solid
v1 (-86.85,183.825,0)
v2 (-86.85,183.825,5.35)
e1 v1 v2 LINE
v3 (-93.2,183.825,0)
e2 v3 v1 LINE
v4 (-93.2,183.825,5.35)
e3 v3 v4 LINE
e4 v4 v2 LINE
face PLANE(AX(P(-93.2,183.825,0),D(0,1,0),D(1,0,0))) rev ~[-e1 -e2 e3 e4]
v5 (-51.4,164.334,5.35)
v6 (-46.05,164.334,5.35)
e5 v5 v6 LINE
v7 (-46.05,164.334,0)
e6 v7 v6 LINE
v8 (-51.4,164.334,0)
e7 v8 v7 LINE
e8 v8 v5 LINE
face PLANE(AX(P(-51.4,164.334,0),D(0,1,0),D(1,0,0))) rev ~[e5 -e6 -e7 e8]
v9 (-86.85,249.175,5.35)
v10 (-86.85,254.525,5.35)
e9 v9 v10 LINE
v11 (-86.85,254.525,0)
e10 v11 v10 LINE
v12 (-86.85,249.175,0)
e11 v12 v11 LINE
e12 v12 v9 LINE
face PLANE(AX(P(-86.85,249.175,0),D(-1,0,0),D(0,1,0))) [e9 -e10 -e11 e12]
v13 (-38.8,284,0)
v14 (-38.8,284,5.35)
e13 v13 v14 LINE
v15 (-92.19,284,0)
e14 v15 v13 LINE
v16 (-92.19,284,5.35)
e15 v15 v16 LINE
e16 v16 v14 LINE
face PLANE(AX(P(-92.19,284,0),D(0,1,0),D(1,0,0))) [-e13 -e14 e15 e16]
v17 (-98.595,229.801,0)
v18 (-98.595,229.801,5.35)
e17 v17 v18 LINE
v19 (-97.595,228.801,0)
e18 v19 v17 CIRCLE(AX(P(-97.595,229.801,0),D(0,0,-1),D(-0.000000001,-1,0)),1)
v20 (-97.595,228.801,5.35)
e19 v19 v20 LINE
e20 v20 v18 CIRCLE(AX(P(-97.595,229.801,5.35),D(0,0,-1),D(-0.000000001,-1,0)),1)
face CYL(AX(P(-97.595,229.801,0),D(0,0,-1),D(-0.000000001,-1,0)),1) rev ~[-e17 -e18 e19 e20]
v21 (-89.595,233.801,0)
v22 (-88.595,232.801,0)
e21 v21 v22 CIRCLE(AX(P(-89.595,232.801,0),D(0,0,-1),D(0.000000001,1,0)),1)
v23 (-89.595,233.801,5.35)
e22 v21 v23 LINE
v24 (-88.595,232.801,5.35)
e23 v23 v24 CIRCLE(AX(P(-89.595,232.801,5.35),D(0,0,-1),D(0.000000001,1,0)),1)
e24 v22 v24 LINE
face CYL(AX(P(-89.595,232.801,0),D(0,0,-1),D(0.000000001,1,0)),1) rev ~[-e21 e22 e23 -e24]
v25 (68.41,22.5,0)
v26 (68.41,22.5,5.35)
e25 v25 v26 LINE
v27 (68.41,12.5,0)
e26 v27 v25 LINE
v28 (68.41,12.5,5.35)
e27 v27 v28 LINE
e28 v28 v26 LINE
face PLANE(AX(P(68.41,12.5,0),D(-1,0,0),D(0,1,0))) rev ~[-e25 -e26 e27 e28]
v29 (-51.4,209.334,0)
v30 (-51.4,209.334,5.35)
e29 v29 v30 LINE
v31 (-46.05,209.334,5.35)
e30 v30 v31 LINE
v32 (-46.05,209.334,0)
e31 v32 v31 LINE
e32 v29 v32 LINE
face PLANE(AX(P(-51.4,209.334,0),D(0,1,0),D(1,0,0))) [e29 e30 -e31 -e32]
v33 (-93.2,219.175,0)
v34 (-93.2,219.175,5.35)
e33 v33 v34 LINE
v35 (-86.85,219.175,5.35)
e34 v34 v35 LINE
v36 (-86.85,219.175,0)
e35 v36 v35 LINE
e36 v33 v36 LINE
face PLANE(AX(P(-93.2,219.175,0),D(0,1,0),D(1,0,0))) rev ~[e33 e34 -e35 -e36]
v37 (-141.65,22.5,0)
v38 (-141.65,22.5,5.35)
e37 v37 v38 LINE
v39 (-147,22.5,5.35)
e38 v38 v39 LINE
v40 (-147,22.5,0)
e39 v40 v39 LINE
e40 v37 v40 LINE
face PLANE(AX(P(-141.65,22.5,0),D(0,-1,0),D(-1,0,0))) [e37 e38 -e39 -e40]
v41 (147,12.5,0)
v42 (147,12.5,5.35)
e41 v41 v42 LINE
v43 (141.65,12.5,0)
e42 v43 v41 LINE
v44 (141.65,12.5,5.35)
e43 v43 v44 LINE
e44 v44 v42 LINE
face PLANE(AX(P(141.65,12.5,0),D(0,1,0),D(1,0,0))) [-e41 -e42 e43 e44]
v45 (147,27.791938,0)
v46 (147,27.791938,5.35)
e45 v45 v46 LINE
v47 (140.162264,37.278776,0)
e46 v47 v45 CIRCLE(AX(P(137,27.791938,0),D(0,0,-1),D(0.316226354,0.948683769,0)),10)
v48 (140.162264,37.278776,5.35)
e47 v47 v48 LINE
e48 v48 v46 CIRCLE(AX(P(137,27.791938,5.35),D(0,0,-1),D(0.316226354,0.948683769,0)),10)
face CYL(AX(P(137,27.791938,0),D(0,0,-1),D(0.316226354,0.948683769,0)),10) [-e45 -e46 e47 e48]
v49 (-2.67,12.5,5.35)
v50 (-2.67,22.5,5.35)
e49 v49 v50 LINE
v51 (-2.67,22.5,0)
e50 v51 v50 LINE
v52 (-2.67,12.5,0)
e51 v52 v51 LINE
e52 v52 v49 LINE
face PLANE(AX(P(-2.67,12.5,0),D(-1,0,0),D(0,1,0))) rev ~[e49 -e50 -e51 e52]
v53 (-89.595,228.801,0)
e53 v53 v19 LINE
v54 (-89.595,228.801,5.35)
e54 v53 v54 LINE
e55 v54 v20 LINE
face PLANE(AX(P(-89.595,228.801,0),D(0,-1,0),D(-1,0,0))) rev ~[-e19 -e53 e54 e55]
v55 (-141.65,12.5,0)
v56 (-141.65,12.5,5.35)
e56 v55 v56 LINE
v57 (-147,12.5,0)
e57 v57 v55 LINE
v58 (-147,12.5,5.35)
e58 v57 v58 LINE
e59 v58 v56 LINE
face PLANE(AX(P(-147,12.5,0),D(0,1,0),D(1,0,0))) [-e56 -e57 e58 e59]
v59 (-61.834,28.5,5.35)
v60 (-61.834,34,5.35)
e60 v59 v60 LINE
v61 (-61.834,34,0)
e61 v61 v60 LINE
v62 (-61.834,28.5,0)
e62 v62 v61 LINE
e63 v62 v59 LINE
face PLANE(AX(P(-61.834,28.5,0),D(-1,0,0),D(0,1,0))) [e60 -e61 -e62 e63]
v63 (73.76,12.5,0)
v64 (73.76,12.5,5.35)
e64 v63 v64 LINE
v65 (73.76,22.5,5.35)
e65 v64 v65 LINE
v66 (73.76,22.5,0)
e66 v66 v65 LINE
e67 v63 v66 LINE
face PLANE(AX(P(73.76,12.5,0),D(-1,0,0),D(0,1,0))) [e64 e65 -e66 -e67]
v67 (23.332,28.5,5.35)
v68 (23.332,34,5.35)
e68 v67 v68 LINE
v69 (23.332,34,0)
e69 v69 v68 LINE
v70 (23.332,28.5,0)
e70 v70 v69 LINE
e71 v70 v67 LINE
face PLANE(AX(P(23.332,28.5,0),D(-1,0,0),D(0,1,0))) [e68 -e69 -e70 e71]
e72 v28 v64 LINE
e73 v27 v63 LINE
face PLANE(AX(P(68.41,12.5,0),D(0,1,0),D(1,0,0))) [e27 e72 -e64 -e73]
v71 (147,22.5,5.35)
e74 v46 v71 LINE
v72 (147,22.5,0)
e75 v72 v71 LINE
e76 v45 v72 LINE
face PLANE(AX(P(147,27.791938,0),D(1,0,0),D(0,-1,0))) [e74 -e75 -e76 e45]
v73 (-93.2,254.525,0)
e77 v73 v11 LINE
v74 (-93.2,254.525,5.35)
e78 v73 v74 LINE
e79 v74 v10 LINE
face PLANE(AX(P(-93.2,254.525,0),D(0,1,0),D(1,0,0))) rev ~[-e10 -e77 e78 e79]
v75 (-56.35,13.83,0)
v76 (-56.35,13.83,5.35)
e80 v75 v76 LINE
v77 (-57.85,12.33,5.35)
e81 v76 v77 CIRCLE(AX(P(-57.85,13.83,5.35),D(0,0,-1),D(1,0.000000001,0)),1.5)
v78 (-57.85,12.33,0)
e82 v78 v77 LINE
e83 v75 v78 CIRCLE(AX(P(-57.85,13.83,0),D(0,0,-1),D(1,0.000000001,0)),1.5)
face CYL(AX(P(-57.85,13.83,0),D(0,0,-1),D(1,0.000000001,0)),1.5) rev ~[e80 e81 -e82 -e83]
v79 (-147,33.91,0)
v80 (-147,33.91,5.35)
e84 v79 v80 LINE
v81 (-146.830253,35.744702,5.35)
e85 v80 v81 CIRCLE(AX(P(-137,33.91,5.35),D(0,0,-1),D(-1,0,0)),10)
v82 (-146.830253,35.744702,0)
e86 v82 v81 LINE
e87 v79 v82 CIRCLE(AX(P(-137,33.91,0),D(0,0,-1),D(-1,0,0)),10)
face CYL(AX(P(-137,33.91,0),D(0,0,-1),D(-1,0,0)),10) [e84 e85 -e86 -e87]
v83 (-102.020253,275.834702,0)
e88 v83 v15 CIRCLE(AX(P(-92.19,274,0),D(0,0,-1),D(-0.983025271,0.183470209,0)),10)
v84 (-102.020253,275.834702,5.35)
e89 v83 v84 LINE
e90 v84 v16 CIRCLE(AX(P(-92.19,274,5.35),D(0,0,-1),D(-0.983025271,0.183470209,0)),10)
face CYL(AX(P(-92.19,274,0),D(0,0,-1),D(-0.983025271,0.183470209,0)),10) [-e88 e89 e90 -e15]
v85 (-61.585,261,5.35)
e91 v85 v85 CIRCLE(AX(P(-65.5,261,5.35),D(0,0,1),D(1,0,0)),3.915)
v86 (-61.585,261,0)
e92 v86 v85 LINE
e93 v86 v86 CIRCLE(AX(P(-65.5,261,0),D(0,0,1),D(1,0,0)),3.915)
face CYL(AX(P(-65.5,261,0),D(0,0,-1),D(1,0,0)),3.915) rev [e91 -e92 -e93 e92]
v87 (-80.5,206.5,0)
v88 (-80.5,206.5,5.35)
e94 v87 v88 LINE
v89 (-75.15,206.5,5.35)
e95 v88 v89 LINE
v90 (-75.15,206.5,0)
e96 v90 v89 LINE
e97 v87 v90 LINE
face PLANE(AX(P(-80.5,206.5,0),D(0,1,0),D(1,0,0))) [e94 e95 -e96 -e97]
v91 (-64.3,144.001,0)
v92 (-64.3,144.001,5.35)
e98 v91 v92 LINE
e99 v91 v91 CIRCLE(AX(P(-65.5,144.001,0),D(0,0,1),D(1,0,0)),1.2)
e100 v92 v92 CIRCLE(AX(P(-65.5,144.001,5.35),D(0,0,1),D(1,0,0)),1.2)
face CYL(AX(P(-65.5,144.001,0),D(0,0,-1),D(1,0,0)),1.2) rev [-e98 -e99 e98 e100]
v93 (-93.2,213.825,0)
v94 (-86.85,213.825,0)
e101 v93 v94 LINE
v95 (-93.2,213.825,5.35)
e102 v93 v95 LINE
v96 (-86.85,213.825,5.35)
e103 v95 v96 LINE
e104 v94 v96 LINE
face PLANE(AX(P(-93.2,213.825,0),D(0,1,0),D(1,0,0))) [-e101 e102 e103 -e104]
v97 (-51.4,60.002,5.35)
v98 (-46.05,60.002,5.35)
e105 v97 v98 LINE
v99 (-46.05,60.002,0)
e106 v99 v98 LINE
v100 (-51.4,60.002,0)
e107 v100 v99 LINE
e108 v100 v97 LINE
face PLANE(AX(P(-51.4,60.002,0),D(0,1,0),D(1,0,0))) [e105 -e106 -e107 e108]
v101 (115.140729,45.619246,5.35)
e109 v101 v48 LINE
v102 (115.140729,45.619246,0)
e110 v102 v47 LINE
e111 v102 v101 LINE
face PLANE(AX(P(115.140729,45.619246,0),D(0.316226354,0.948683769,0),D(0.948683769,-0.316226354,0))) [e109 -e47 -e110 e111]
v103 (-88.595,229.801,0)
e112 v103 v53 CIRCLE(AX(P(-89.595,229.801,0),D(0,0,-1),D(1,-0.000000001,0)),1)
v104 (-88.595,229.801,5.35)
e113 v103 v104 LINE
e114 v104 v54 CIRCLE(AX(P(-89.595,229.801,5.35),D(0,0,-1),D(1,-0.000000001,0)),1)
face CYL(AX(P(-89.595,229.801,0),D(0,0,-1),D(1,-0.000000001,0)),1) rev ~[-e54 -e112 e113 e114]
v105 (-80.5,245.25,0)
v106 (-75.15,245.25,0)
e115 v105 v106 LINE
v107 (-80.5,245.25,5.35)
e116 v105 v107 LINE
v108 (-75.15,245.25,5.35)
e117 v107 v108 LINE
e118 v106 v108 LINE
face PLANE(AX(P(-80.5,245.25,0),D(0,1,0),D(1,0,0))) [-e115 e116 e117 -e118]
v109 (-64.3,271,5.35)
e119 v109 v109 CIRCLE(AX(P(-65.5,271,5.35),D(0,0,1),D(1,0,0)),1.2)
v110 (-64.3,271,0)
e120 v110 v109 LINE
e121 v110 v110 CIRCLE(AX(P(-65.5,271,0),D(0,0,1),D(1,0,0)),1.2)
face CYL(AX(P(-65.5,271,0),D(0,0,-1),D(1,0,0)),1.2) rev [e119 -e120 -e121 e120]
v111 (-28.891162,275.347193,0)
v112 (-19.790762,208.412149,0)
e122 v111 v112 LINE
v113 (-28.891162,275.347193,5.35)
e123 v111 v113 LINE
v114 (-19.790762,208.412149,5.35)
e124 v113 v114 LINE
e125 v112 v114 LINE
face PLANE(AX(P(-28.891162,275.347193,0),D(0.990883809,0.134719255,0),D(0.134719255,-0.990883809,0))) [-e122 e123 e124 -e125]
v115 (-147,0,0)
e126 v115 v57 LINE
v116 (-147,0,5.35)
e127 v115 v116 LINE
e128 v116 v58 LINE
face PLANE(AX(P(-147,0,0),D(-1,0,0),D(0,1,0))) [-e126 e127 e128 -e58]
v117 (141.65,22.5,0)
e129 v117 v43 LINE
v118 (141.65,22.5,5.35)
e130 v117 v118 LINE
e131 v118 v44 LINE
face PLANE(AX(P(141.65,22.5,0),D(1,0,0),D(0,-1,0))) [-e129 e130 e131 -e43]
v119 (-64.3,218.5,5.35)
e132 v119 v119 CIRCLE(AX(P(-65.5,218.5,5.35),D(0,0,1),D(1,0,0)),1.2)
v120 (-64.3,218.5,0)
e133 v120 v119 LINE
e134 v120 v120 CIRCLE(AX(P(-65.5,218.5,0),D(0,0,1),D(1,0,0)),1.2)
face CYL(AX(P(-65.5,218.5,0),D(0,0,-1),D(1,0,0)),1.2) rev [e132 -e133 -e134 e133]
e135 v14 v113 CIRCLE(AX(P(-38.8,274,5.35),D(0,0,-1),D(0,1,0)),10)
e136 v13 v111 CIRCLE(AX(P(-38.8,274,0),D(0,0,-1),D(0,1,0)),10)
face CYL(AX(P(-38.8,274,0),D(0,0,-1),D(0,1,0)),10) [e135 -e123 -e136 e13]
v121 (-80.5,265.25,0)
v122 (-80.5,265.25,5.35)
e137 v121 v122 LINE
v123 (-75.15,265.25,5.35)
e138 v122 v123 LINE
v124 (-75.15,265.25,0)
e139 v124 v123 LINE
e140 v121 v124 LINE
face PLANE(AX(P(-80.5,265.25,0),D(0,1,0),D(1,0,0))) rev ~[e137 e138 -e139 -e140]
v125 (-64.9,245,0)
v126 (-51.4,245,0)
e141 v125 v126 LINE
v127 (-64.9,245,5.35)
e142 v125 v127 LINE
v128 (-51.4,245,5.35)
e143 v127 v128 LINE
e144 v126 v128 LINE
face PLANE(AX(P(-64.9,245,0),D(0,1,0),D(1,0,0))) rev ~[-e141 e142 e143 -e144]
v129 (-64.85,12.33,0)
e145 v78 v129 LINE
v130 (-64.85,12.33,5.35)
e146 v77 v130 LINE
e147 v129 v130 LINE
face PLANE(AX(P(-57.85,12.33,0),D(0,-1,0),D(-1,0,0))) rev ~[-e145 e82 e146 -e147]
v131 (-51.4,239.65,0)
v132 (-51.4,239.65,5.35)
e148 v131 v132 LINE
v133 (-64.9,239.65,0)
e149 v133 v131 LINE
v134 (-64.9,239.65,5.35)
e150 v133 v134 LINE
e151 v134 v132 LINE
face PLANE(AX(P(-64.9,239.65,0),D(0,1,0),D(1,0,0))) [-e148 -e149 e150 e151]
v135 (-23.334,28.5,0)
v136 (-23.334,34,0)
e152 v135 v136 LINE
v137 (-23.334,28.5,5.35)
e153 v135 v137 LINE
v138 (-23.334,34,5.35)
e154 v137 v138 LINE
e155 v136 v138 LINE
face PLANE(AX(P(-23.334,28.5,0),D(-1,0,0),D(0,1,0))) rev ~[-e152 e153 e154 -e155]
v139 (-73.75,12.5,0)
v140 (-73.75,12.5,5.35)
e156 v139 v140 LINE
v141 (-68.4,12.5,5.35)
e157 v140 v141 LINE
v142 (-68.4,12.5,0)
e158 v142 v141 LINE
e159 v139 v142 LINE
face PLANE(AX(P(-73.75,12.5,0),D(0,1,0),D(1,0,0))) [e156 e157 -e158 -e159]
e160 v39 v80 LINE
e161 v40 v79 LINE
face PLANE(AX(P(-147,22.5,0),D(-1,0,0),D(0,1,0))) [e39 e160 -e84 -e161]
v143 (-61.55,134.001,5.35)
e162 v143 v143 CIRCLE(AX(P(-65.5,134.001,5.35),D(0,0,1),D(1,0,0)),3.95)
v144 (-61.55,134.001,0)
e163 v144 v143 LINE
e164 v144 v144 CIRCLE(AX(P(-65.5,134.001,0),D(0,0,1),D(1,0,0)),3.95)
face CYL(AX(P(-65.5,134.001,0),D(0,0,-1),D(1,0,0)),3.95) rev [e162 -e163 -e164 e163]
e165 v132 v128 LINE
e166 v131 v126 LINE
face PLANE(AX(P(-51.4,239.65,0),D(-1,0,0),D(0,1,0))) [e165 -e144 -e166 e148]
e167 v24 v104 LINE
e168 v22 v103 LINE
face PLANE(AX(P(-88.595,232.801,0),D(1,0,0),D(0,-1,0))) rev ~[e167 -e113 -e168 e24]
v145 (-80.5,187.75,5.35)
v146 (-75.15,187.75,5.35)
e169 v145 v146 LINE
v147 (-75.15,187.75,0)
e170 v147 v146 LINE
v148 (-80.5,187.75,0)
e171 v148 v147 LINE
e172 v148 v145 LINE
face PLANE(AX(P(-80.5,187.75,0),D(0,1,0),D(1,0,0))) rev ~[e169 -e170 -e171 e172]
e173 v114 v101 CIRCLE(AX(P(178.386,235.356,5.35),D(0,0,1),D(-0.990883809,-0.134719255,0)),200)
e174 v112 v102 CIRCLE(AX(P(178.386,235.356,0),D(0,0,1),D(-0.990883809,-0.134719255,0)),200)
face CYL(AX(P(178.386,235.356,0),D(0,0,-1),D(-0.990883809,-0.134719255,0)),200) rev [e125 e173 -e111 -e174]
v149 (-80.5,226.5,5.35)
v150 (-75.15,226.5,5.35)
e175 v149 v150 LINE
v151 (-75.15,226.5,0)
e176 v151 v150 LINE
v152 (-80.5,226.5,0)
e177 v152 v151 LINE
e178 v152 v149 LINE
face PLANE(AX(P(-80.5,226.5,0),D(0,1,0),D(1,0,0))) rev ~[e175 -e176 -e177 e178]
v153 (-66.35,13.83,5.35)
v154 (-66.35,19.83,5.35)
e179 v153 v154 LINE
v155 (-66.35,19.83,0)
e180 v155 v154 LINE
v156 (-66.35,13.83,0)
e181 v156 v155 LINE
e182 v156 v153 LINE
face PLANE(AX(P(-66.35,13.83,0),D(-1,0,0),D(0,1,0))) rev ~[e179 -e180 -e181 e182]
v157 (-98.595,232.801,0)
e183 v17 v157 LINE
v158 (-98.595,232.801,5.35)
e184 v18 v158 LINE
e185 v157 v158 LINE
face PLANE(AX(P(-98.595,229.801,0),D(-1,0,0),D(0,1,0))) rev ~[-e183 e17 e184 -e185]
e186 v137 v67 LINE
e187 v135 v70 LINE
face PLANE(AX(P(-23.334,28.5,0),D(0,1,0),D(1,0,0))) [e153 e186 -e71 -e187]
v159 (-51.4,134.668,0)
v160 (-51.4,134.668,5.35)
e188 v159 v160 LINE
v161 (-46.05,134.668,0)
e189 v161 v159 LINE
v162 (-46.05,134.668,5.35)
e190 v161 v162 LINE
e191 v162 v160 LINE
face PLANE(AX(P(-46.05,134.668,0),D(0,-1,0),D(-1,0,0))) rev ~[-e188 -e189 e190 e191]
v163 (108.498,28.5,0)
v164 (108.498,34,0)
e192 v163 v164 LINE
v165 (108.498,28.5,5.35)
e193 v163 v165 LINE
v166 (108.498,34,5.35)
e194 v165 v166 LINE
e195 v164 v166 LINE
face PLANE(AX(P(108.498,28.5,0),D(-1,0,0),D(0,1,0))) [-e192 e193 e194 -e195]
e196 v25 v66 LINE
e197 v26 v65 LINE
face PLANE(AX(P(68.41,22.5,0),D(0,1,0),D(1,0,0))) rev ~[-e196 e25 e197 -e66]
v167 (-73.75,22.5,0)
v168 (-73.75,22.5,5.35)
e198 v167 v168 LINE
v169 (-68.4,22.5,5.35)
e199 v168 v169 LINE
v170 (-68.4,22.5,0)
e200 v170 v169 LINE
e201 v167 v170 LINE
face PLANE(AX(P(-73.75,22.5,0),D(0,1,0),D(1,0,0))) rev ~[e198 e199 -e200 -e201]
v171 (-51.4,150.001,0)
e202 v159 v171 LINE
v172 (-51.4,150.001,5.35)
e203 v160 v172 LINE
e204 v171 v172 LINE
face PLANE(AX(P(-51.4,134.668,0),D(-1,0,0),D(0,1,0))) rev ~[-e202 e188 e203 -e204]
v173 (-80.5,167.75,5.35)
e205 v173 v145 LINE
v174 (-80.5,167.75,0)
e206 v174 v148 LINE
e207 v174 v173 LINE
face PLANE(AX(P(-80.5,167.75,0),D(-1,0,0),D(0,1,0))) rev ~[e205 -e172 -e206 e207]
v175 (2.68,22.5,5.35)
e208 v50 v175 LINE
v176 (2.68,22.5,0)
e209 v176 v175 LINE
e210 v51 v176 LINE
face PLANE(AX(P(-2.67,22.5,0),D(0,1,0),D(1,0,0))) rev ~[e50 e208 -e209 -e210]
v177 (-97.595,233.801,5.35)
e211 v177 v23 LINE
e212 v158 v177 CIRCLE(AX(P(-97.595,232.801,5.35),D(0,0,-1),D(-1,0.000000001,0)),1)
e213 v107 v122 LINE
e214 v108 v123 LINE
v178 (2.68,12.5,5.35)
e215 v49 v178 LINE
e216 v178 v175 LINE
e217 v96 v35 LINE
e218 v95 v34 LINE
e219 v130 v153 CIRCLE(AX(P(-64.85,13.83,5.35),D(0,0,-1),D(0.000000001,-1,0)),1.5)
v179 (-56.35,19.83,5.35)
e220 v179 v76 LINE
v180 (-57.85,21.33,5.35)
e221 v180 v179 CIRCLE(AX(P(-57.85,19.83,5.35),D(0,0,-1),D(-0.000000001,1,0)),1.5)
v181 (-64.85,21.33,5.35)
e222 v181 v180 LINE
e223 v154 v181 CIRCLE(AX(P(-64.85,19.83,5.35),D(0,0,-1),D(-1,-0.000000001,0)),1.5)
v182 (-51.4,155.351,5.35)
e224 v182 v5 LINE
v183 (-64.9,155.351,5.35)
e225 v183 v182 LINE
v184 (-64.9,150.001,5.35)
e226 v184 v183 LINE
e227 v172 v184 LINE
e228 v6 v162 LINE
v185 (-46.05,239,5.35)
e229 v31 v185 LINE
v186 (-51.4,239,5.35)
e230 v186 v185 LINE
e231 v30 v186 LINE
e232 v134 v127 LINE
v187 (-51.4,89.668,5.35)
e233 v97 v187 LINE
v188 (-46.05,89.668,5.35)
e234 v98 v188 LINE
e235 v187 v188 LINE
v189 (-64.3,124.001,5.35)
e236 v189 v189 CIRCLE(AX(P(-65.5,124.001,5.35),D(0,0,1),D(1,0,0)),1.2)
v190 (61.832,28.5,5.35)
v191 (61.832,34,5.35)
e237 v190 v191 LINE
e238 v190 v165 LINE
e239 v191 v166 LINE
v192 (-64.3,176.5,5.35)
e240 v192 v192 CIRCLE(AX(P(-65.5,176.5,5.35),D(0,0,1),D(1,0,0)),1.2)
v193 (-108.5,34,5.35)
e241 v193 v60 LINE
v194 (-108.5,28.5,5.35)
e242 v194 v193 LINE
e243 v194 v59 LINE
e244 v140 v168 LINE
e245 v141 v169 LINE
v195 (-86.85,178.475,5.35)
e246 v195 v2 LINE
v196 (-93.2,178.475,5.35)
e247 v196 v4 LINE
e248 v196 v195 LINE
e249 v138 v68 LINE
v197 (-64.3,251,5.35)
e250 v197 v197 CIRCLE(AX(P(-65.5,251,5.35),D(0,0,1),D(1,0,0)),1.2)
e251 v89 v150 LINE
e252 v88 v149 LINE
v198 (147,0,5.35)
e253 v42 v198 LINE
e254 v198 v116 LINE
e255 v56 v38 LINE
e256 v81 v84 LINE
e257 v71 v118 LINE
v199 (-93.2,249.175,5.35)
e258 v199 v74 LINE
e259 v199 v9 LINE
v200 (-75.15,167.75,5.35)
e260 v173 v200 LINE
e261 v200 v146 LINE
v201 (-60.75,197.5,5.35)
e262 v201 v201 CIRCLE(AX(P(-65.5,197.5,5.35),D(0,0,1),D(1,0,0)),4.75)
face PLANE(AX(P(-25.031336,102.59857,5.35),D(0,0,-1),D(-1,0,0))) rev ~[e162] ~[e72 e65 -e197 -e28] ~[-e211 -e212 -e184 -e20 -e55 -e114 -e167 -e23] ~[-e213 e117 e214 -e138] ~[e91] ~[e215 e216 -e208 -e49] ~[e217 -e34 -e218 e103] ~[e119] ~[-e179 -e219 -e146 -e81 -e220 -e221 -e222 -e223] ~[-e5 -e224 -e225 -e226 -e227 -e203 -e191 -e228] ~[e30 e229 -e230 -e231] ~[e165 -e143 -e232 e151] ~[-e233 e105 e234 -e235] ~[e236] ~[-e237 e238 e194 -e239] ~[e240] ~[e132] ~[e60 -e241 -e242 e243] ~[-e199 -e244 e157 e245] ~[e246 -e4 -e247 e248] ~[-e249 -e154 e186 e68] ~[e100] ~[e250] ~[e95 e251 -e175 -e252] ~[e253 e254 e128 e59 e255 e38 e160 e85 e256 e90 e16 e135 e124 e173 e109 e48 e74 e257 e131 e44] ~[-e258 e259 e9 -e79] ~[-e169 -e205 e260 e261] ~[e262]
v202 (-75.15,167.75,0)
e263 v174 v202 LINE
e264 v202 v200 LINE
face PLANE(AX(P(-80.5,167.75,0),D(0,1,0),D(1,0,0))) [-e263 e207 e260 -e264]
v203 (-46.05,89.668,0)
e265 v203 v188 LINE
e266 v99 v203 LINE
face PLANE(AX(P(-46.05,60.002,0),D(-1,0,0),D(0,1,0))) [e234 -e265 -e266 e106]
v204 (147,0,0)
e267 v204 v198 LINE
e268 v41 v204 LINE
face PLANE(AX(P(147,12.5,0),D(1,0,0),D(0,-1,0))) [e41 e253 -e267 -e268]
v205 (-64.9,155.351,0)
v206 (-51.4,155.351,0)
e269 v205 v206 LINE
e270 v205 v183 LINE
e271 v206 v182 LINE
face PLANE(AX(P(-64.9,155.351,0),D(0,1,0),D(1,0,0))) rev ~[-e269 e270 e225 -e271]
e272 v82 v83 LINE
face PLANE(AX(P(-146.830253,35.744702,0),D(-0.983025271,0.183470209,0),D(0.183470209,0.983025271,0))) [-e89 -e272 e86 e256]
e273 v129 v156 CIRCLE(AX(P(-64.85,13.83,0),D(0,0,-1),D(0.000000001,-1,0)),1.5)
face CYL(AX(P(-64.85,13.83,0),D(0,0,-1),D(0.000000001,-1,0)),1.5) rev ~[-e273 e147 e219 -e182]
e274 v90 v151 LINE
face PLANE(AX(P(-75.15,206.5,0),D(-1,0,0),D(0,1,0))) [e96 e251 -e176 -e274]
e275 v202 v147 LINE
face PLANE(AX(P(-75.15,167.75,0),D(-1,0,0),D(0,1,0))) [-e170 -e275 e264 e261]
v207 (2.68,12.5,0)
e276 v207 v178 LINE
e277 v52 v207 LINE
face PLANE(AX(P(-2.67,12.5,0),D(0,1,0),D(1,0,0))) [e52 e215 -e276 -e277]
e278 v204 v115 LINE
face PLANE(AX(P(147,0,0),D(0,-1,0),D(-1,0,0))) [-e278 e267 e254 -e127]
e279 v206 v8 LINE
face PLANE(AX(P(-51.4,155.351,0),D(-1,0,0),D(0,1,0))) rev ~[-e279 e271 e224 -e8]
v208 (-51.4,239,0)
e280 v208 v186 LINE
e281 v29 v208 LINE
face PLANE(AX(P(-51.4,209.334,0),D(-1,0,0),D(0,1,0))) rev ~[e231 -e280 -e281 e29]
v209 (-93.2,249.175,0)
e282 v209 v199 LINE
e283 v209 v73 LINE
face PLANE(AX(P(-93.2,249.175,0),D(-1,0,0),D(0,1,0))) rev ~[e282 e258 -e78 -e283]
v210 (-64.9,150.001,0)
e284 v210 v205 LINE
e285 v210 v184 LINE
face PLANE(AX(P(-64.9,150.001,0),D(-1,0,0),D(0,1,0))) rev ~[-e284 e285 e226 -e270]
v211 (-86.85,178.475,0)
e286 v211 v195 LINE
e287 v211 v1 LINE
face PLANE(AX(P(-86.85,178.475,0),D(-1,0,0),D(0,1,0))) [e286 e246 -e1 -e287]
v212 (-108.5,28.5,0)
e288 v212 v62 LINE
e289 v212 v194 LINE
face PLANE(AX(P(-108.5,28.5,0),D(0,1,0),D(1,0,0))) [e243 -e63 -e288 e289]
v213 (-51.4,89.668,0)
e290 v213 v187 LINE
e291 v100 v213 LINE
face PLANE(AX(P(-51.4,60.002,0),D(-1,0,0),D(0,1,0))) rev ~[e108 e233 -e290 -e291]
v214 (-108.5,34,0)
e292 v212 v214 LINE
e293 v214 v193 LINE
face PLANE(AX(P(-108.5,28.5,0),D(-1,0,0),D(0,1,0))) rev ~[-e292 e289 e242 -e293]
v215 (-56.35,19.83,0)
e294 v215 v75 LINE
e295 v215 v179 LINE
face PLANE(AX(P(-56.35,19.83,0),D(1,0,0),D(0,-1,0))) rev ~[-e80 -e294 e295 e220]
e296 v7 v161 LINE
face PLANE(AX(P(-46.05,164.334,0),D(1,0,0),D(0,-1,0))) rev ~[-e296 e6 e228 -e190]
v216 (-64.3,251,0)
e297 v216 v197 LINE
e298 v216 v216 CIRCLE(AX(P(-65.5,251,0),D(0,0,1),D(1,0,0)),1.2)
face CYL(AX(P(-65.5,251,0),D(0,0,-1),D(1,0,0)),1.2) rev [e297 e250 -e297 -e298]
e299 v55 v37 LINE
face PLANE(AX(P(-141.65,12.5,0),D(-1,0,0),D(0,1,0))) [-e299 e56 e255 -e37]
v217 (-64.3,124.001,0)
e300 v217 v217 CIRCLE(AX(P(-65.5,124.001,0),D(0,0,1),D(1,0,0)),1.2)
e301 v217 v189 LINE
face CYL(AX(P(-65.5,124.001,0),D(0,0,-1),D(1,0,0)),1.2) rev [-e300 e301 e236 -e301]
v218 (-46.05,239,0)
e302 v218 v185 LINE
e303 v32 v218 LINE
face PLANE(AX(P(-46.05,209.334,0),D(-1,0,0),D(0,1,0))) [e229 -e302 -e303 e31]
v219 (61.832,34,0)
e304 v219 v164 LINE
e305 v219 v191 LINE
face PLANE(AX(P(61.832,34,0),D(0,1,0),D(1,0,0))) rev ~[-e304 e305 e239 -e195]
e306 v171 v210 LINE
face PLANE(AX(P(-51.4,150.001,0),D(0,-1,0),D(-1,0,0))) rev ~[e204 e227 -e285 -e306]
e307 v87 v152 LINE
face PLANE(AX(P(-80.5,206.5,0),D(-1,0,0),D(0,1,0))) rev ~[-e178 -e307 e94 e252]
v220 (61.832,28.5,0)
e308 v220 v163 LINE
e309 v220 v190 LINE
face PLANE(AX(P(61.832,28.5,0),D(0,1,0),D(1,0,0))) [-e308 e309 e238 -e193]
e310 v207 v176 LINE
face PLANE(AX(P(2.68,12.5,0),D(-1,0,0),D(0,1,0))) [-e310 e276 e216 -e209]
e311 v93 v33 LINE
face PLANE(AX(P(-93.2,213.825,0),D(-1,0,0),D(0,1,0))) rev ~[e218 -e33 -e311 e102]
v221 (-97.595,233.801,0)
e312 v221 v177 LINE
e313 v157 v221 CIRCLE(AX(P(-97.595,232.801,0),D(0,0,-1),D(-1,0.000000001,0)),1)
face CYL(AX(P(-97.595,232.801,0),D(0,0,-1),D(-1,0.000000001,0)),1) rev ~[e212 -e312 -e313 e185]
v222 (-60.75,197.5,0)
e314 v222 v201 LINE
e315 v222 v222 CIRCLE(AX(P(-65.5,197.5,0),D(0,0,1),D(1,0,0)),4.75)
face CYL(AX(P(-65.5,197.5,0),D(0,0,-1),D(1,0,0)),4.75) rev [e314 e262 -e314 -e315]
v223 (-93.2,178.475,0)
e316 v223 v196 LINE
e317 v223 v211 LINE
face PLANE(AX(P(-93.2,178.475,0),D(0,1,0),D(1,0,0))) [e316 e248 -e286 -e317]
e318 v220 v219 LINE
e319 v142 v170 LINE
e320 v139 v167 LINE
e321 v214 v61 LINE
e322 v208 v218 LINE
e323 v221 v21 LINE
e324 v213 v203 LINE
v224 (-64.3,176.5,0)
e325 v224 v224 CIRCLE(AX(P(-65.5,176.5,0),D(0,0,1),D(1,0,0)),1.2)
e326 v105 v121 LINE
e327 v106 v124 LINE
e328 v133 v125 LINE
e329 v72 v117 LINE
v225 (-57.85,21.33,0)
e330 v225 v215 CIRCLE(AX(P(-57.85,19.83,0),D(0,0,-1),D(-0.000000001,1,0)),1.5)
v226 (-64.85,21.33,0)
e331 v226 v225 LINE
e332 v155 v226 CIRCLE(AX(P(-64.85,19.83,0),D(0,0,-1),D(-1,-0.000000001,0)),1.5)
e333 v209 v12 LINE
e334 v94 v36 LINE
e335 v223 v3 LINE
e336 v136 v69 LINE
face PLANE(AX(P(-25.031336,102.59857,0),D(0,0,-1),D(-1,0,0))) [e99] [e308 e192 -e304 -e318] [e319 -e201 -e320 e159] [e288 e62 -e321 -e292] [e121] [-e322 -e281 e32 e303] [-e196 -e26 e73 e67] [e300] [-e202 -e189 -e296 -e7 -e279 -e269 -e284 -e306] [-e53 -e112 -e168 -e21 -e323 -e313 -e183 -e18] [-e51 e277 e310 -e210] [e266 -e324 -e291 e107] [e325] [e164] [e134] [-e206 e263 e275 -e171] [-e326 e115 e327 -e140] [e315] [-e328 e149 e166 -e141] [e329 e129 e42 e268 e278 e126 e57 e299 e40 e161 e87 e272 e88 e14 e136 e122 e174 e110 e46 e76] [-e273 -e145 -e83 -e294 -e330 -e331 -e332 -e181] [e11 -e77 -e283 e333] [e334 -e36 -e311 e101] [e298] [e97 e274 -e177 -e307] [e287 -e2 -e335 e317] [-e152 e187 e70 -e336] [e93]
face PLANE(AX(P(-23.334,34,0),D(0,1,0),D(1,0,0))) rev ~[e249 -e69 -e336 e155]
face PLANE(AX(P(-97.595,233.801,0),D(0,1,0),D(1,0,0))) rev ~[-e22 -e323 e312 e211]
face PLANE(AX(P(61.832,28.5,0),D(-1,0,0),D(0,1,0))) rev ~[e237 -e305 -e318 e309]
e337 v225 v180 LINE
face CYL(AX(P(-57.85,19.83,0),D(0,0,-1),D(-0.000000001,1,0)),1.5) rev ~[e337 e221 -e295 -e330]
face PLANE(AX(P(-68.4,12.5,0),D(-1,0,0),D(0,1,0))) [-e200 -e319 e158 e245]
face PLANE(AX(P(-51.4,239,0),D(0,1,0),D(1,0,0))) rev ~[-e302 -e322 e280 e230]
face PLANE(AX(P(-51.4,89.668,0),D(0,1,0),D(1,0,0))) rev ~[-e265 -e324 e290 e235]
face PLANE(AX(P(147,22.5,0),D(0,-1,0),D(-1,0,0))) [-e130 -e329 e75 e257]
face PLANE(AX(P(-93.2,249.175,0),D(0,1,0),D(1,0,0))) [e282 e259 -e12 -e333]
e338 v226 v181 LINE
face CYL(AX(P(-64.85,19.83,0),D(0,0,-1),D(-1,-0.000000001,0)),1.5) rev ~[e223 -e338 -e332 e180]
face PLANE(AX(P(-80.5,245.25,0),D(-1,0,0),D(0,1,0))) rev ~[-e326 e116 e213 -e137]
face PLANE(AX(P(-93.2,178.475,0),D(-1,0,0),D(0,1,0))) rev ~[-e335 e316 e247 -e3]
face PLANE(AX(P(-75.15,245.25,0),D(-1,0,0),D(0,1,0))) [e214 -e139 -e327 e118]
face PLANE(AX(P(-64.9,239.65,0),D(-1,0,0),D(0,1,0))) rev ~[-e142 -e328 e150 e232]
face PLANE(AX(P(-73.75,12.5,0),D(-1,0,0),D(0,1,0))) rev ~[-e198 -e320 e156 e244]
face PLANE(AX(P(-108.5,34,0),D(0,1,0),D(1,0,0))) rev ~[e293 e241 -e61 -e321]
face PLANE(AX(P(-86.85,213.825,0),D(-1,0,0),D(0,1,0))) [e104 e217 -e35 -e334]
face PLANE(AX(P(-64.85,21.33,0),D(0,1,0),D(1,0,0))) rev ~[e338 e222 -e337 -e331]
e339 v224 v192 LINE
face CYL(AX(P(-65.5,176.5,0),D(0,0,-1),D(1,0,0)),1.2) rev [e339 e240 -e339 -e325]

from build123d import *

# Parameters (mm, degrees)
MODEL_R             = 3.915
MODEL_R_2           = 1.2
MODEL_R_3           = 4.75
MODEL_R_4           = 3.95
MODEL_W             = 46.666
MODEL_H             = 5.5
MODEL_W_2           = 5.35
MODEL_H_2           = 10
MODEL_W_3           = 6.35
MODEL_H_3           = 5.35
MODEL_H_4           = 20
MODEL_H_5           = 29.666
MODEL_W_4           = 13.5
BOSS_EXTRUDE1_DEPTH = 5.35


with BuildPart() as part:
    # Model → Boss-Extrude1 (new body)
    with BuildSketch(Plane.XY):
        with BuildLine():
            Line((-147, 22.5), (-147, 33.91))
            ThreePointArc((-147, 33.91), (-146.957472748, 34.831268946), (-146.830252706, 35.744702086))
            Line((-146.830252706, 35.744702086), (-102.020252706, 275.834702086))
            ThreePointArc((-102.020252706, 275.834702086), (-98.579560984, 281.692432023), (-92.19, 284))
            Line((-92.19, 284), (-38.8, 284))
            ThreePointArc((-38.8, 284), (-32.222459634, 281.532327843), (-28.891161913, 275.347192548))
            Line((-28.891161913, 275.347192548), (-19.790761745, 208.412149045))
            ThreePointArc((-19.790761745, 208.412149045), (24.403039643, 107.726661994), (115.140729145, 45.619246274))
            Line((115.140729145, 45.619246274), (140.162263543, 37.27877618))
            ThreePointArc((140.162263543, 37.27877618), (145.112417501, 33.639047376), (147, 27.791938494))
            Line((147, 27.791938494), (147, 22.5))
            Line((147, 22.5), (141.65, 22.5))
            Line((141.65, 22.5), (141.65, 12.5))
            Line((141.65, 12.5), (147, 12.5))
            Line((147, 12.5), (147, 0))
            Line((147, 0), (-147, 0))
            Line((-147, 0), (-147, 12.5))
            Line((-147, 12.5), (-141.65, 12.5))
            Line((-141.65, 12.5), (-141.65, 22.5))
            Line((-141.65, 22.5), (-147, 22.5))
        make_face()
        with Locations((-65.5, 261)):
            Circle(MODEL_R, mode=Mode.SUBTRACT)
        with Locations((-65.5, 271)):
            Circle(MODEL_R_2, mode=Mode.SUBTRACT)
        with Locations((-65.5, 251)):
            Circle(MODEL_R_2, mode=Mode.SUBTRACT)
        with Locations((-65.5, 197.5)):
            Circle(MODEL_R_3, mode=Mode.SUBTRACT)
        with Locations((-65.5, 218.5)):
            Circle(MODEL_R_2, mode=Mode.SUBTRACT)
        with Locations((-65.5, 176.5)):
            Circle(MODEL_R_2, mode=Mode.SUBTRACT)
        with Locations((-65.5, 134.001)):
            Circle(MODEL_R_4, mode=Mode.SUBTRACT)
        with Locations((-65.5, 144.001)):
            Circle(MODEL_R_2, mode=Mode.SUBTRACT)
        with Locations((-65.5, 124.001)):
            Circle(MODEL_R_2, mode=Mode.SUBTRACT)
        with Locations((-0.001, 31.25)):
            Rectangle(MODEL_W, MODEL_H, mode=Mode.SUBTRACT)
        with Locations((-85.167, 31.25)):
            Rectangle(MODEL_W, MODEL_H, mode=Mode.SUBTRACT)
        with Locations((85.165, 31.25)):
            Rectangle(MODEL_W, MODEL_H, mode=Mode.SUBTRACT)
        with Locations((0.005, 17.5)):
            Rectangle(MODEL_W_2, MODEL_H_2, mode=Mode.SUBTRACT)
        with Locations((-71.075, 17.5)):
            Rectangle(MODEL_W_2, MODEL_H_2, mode=Mode.SUBTRACT)
        with Locations((71.085, 17.5)):
            Rectangle(MODEL_W_2, MODEL_H_2, mode=Mode.SUBTRACT)
        with Locations((-90.025, 216.5)):
            Rectangle(MODEL_W_3, MODEL_H_3, mode=Mode.SUBTRACT)
        with BuildLine():
            Line((-64.85, 21.33), (-57.85, 21.33))
            ThreePointArc((-57.85, 21.33), (-56.789339828, 20.890660172), (-56.35, 19.83))
            Line((-56.35, 19.83), (-56.35, 13.83))
            ThreePointArc((-56.35, 13.83), (-56.789339828, 12.769339828), (-57.85, 12.33))
            Line((-57.85, 12.33), (-64.85, 12.33))
            ThreePointArc((-64.85, 12.33), (-65.910660172, 12.769339828), (-66.35, 13.83))
            Line((-66.35, 13.83), (-66.35, 19.83))
            ThreePointArc((-66.35, 19.83), (-65.910660172, 20.890660172), (-64.85, 21.33))
        make_face(mode=Mode.SUBTRACT)
        with Locations((-90.025, 251.85)):
            Rectangle(MODEL_W_3, MODEL_H_3, mode=Mode.SUBTRACT)
        with Locations((-90.025, 181.15)):
            Rectangle(MODEL_W_3, MODEL_H_3, mode=Mode.SUBTRACT)
        with Locations((-77.825, 216.5)):
            Rectangle(MODEL_W_2, MODEL_H_4, mode=Mode.SUBTRACT)
        with Locations((-77.825, 255.25)):
            Rectangle(MODEL_W_2, MODEL_H_4, mode=Mode.SUBTRACT)
        with Locations((-77.825, 177.75)):
            Rectangle(MODEL_W_2, MODEL_H_4, mode=Mode.SUBTRACT)
        Polygon((-51.4, 164.334), (-46.05, 164.334), (-46.05, 134.668), (-51.4, 134.668), (-51.4, 150.001), (-64.9, 150.001), (-64.9, 155.351), (-51.4, 155.351), align=None, mode=Mode.SUBTRACT)
        with BuildLine():
            Line((-89.595, 228.801), (-97.595, 228.801))
            ThreePointArc((-97.595, 228.801), (-98.302106781, 229.093893219), (-98.595, 229.801))
            Line((-98.595, 229.801), (-98.595, 232.801))
            ThreePointArc((-98.595, 232.801), (-98.302106781, 233.508106781), (-97.595, 233.801))
            Line((-97.595, 233.801), (-89.595, 233.801))
            ThreePointArc((-89.595, 233.801), (-88.887893219, 233.508106781), (-88.595, 232.801))
            Line((-88.595, 232.801), (-88.595, 229.801))
            ThreePointArc((-88.595, 229.801), (-88.887893219, 229.093893219), (-89.595, 228.801))
        make_face(mode=Mode.SUBTRACT)
        with Locations((-48.725, 224.167)):
            Rectangle(MODEL_W_2, MODEL_H_5, mode=Mode.SUBTRACT)
        with Locations((-48.725, 74.835)):
            Rectangle(MODEL_W_2, MODEL_H_5, mode=Mode.SUBTRACT)
        with Locations((-58.15, 242.325)):
            Rectangle(MODEL_W_4, MODEL_H_3, mode=Mode.SUBTRACT)
    extrude(amount=BOSS_EXTRUDE1_DEPTH)


solid = part.part
